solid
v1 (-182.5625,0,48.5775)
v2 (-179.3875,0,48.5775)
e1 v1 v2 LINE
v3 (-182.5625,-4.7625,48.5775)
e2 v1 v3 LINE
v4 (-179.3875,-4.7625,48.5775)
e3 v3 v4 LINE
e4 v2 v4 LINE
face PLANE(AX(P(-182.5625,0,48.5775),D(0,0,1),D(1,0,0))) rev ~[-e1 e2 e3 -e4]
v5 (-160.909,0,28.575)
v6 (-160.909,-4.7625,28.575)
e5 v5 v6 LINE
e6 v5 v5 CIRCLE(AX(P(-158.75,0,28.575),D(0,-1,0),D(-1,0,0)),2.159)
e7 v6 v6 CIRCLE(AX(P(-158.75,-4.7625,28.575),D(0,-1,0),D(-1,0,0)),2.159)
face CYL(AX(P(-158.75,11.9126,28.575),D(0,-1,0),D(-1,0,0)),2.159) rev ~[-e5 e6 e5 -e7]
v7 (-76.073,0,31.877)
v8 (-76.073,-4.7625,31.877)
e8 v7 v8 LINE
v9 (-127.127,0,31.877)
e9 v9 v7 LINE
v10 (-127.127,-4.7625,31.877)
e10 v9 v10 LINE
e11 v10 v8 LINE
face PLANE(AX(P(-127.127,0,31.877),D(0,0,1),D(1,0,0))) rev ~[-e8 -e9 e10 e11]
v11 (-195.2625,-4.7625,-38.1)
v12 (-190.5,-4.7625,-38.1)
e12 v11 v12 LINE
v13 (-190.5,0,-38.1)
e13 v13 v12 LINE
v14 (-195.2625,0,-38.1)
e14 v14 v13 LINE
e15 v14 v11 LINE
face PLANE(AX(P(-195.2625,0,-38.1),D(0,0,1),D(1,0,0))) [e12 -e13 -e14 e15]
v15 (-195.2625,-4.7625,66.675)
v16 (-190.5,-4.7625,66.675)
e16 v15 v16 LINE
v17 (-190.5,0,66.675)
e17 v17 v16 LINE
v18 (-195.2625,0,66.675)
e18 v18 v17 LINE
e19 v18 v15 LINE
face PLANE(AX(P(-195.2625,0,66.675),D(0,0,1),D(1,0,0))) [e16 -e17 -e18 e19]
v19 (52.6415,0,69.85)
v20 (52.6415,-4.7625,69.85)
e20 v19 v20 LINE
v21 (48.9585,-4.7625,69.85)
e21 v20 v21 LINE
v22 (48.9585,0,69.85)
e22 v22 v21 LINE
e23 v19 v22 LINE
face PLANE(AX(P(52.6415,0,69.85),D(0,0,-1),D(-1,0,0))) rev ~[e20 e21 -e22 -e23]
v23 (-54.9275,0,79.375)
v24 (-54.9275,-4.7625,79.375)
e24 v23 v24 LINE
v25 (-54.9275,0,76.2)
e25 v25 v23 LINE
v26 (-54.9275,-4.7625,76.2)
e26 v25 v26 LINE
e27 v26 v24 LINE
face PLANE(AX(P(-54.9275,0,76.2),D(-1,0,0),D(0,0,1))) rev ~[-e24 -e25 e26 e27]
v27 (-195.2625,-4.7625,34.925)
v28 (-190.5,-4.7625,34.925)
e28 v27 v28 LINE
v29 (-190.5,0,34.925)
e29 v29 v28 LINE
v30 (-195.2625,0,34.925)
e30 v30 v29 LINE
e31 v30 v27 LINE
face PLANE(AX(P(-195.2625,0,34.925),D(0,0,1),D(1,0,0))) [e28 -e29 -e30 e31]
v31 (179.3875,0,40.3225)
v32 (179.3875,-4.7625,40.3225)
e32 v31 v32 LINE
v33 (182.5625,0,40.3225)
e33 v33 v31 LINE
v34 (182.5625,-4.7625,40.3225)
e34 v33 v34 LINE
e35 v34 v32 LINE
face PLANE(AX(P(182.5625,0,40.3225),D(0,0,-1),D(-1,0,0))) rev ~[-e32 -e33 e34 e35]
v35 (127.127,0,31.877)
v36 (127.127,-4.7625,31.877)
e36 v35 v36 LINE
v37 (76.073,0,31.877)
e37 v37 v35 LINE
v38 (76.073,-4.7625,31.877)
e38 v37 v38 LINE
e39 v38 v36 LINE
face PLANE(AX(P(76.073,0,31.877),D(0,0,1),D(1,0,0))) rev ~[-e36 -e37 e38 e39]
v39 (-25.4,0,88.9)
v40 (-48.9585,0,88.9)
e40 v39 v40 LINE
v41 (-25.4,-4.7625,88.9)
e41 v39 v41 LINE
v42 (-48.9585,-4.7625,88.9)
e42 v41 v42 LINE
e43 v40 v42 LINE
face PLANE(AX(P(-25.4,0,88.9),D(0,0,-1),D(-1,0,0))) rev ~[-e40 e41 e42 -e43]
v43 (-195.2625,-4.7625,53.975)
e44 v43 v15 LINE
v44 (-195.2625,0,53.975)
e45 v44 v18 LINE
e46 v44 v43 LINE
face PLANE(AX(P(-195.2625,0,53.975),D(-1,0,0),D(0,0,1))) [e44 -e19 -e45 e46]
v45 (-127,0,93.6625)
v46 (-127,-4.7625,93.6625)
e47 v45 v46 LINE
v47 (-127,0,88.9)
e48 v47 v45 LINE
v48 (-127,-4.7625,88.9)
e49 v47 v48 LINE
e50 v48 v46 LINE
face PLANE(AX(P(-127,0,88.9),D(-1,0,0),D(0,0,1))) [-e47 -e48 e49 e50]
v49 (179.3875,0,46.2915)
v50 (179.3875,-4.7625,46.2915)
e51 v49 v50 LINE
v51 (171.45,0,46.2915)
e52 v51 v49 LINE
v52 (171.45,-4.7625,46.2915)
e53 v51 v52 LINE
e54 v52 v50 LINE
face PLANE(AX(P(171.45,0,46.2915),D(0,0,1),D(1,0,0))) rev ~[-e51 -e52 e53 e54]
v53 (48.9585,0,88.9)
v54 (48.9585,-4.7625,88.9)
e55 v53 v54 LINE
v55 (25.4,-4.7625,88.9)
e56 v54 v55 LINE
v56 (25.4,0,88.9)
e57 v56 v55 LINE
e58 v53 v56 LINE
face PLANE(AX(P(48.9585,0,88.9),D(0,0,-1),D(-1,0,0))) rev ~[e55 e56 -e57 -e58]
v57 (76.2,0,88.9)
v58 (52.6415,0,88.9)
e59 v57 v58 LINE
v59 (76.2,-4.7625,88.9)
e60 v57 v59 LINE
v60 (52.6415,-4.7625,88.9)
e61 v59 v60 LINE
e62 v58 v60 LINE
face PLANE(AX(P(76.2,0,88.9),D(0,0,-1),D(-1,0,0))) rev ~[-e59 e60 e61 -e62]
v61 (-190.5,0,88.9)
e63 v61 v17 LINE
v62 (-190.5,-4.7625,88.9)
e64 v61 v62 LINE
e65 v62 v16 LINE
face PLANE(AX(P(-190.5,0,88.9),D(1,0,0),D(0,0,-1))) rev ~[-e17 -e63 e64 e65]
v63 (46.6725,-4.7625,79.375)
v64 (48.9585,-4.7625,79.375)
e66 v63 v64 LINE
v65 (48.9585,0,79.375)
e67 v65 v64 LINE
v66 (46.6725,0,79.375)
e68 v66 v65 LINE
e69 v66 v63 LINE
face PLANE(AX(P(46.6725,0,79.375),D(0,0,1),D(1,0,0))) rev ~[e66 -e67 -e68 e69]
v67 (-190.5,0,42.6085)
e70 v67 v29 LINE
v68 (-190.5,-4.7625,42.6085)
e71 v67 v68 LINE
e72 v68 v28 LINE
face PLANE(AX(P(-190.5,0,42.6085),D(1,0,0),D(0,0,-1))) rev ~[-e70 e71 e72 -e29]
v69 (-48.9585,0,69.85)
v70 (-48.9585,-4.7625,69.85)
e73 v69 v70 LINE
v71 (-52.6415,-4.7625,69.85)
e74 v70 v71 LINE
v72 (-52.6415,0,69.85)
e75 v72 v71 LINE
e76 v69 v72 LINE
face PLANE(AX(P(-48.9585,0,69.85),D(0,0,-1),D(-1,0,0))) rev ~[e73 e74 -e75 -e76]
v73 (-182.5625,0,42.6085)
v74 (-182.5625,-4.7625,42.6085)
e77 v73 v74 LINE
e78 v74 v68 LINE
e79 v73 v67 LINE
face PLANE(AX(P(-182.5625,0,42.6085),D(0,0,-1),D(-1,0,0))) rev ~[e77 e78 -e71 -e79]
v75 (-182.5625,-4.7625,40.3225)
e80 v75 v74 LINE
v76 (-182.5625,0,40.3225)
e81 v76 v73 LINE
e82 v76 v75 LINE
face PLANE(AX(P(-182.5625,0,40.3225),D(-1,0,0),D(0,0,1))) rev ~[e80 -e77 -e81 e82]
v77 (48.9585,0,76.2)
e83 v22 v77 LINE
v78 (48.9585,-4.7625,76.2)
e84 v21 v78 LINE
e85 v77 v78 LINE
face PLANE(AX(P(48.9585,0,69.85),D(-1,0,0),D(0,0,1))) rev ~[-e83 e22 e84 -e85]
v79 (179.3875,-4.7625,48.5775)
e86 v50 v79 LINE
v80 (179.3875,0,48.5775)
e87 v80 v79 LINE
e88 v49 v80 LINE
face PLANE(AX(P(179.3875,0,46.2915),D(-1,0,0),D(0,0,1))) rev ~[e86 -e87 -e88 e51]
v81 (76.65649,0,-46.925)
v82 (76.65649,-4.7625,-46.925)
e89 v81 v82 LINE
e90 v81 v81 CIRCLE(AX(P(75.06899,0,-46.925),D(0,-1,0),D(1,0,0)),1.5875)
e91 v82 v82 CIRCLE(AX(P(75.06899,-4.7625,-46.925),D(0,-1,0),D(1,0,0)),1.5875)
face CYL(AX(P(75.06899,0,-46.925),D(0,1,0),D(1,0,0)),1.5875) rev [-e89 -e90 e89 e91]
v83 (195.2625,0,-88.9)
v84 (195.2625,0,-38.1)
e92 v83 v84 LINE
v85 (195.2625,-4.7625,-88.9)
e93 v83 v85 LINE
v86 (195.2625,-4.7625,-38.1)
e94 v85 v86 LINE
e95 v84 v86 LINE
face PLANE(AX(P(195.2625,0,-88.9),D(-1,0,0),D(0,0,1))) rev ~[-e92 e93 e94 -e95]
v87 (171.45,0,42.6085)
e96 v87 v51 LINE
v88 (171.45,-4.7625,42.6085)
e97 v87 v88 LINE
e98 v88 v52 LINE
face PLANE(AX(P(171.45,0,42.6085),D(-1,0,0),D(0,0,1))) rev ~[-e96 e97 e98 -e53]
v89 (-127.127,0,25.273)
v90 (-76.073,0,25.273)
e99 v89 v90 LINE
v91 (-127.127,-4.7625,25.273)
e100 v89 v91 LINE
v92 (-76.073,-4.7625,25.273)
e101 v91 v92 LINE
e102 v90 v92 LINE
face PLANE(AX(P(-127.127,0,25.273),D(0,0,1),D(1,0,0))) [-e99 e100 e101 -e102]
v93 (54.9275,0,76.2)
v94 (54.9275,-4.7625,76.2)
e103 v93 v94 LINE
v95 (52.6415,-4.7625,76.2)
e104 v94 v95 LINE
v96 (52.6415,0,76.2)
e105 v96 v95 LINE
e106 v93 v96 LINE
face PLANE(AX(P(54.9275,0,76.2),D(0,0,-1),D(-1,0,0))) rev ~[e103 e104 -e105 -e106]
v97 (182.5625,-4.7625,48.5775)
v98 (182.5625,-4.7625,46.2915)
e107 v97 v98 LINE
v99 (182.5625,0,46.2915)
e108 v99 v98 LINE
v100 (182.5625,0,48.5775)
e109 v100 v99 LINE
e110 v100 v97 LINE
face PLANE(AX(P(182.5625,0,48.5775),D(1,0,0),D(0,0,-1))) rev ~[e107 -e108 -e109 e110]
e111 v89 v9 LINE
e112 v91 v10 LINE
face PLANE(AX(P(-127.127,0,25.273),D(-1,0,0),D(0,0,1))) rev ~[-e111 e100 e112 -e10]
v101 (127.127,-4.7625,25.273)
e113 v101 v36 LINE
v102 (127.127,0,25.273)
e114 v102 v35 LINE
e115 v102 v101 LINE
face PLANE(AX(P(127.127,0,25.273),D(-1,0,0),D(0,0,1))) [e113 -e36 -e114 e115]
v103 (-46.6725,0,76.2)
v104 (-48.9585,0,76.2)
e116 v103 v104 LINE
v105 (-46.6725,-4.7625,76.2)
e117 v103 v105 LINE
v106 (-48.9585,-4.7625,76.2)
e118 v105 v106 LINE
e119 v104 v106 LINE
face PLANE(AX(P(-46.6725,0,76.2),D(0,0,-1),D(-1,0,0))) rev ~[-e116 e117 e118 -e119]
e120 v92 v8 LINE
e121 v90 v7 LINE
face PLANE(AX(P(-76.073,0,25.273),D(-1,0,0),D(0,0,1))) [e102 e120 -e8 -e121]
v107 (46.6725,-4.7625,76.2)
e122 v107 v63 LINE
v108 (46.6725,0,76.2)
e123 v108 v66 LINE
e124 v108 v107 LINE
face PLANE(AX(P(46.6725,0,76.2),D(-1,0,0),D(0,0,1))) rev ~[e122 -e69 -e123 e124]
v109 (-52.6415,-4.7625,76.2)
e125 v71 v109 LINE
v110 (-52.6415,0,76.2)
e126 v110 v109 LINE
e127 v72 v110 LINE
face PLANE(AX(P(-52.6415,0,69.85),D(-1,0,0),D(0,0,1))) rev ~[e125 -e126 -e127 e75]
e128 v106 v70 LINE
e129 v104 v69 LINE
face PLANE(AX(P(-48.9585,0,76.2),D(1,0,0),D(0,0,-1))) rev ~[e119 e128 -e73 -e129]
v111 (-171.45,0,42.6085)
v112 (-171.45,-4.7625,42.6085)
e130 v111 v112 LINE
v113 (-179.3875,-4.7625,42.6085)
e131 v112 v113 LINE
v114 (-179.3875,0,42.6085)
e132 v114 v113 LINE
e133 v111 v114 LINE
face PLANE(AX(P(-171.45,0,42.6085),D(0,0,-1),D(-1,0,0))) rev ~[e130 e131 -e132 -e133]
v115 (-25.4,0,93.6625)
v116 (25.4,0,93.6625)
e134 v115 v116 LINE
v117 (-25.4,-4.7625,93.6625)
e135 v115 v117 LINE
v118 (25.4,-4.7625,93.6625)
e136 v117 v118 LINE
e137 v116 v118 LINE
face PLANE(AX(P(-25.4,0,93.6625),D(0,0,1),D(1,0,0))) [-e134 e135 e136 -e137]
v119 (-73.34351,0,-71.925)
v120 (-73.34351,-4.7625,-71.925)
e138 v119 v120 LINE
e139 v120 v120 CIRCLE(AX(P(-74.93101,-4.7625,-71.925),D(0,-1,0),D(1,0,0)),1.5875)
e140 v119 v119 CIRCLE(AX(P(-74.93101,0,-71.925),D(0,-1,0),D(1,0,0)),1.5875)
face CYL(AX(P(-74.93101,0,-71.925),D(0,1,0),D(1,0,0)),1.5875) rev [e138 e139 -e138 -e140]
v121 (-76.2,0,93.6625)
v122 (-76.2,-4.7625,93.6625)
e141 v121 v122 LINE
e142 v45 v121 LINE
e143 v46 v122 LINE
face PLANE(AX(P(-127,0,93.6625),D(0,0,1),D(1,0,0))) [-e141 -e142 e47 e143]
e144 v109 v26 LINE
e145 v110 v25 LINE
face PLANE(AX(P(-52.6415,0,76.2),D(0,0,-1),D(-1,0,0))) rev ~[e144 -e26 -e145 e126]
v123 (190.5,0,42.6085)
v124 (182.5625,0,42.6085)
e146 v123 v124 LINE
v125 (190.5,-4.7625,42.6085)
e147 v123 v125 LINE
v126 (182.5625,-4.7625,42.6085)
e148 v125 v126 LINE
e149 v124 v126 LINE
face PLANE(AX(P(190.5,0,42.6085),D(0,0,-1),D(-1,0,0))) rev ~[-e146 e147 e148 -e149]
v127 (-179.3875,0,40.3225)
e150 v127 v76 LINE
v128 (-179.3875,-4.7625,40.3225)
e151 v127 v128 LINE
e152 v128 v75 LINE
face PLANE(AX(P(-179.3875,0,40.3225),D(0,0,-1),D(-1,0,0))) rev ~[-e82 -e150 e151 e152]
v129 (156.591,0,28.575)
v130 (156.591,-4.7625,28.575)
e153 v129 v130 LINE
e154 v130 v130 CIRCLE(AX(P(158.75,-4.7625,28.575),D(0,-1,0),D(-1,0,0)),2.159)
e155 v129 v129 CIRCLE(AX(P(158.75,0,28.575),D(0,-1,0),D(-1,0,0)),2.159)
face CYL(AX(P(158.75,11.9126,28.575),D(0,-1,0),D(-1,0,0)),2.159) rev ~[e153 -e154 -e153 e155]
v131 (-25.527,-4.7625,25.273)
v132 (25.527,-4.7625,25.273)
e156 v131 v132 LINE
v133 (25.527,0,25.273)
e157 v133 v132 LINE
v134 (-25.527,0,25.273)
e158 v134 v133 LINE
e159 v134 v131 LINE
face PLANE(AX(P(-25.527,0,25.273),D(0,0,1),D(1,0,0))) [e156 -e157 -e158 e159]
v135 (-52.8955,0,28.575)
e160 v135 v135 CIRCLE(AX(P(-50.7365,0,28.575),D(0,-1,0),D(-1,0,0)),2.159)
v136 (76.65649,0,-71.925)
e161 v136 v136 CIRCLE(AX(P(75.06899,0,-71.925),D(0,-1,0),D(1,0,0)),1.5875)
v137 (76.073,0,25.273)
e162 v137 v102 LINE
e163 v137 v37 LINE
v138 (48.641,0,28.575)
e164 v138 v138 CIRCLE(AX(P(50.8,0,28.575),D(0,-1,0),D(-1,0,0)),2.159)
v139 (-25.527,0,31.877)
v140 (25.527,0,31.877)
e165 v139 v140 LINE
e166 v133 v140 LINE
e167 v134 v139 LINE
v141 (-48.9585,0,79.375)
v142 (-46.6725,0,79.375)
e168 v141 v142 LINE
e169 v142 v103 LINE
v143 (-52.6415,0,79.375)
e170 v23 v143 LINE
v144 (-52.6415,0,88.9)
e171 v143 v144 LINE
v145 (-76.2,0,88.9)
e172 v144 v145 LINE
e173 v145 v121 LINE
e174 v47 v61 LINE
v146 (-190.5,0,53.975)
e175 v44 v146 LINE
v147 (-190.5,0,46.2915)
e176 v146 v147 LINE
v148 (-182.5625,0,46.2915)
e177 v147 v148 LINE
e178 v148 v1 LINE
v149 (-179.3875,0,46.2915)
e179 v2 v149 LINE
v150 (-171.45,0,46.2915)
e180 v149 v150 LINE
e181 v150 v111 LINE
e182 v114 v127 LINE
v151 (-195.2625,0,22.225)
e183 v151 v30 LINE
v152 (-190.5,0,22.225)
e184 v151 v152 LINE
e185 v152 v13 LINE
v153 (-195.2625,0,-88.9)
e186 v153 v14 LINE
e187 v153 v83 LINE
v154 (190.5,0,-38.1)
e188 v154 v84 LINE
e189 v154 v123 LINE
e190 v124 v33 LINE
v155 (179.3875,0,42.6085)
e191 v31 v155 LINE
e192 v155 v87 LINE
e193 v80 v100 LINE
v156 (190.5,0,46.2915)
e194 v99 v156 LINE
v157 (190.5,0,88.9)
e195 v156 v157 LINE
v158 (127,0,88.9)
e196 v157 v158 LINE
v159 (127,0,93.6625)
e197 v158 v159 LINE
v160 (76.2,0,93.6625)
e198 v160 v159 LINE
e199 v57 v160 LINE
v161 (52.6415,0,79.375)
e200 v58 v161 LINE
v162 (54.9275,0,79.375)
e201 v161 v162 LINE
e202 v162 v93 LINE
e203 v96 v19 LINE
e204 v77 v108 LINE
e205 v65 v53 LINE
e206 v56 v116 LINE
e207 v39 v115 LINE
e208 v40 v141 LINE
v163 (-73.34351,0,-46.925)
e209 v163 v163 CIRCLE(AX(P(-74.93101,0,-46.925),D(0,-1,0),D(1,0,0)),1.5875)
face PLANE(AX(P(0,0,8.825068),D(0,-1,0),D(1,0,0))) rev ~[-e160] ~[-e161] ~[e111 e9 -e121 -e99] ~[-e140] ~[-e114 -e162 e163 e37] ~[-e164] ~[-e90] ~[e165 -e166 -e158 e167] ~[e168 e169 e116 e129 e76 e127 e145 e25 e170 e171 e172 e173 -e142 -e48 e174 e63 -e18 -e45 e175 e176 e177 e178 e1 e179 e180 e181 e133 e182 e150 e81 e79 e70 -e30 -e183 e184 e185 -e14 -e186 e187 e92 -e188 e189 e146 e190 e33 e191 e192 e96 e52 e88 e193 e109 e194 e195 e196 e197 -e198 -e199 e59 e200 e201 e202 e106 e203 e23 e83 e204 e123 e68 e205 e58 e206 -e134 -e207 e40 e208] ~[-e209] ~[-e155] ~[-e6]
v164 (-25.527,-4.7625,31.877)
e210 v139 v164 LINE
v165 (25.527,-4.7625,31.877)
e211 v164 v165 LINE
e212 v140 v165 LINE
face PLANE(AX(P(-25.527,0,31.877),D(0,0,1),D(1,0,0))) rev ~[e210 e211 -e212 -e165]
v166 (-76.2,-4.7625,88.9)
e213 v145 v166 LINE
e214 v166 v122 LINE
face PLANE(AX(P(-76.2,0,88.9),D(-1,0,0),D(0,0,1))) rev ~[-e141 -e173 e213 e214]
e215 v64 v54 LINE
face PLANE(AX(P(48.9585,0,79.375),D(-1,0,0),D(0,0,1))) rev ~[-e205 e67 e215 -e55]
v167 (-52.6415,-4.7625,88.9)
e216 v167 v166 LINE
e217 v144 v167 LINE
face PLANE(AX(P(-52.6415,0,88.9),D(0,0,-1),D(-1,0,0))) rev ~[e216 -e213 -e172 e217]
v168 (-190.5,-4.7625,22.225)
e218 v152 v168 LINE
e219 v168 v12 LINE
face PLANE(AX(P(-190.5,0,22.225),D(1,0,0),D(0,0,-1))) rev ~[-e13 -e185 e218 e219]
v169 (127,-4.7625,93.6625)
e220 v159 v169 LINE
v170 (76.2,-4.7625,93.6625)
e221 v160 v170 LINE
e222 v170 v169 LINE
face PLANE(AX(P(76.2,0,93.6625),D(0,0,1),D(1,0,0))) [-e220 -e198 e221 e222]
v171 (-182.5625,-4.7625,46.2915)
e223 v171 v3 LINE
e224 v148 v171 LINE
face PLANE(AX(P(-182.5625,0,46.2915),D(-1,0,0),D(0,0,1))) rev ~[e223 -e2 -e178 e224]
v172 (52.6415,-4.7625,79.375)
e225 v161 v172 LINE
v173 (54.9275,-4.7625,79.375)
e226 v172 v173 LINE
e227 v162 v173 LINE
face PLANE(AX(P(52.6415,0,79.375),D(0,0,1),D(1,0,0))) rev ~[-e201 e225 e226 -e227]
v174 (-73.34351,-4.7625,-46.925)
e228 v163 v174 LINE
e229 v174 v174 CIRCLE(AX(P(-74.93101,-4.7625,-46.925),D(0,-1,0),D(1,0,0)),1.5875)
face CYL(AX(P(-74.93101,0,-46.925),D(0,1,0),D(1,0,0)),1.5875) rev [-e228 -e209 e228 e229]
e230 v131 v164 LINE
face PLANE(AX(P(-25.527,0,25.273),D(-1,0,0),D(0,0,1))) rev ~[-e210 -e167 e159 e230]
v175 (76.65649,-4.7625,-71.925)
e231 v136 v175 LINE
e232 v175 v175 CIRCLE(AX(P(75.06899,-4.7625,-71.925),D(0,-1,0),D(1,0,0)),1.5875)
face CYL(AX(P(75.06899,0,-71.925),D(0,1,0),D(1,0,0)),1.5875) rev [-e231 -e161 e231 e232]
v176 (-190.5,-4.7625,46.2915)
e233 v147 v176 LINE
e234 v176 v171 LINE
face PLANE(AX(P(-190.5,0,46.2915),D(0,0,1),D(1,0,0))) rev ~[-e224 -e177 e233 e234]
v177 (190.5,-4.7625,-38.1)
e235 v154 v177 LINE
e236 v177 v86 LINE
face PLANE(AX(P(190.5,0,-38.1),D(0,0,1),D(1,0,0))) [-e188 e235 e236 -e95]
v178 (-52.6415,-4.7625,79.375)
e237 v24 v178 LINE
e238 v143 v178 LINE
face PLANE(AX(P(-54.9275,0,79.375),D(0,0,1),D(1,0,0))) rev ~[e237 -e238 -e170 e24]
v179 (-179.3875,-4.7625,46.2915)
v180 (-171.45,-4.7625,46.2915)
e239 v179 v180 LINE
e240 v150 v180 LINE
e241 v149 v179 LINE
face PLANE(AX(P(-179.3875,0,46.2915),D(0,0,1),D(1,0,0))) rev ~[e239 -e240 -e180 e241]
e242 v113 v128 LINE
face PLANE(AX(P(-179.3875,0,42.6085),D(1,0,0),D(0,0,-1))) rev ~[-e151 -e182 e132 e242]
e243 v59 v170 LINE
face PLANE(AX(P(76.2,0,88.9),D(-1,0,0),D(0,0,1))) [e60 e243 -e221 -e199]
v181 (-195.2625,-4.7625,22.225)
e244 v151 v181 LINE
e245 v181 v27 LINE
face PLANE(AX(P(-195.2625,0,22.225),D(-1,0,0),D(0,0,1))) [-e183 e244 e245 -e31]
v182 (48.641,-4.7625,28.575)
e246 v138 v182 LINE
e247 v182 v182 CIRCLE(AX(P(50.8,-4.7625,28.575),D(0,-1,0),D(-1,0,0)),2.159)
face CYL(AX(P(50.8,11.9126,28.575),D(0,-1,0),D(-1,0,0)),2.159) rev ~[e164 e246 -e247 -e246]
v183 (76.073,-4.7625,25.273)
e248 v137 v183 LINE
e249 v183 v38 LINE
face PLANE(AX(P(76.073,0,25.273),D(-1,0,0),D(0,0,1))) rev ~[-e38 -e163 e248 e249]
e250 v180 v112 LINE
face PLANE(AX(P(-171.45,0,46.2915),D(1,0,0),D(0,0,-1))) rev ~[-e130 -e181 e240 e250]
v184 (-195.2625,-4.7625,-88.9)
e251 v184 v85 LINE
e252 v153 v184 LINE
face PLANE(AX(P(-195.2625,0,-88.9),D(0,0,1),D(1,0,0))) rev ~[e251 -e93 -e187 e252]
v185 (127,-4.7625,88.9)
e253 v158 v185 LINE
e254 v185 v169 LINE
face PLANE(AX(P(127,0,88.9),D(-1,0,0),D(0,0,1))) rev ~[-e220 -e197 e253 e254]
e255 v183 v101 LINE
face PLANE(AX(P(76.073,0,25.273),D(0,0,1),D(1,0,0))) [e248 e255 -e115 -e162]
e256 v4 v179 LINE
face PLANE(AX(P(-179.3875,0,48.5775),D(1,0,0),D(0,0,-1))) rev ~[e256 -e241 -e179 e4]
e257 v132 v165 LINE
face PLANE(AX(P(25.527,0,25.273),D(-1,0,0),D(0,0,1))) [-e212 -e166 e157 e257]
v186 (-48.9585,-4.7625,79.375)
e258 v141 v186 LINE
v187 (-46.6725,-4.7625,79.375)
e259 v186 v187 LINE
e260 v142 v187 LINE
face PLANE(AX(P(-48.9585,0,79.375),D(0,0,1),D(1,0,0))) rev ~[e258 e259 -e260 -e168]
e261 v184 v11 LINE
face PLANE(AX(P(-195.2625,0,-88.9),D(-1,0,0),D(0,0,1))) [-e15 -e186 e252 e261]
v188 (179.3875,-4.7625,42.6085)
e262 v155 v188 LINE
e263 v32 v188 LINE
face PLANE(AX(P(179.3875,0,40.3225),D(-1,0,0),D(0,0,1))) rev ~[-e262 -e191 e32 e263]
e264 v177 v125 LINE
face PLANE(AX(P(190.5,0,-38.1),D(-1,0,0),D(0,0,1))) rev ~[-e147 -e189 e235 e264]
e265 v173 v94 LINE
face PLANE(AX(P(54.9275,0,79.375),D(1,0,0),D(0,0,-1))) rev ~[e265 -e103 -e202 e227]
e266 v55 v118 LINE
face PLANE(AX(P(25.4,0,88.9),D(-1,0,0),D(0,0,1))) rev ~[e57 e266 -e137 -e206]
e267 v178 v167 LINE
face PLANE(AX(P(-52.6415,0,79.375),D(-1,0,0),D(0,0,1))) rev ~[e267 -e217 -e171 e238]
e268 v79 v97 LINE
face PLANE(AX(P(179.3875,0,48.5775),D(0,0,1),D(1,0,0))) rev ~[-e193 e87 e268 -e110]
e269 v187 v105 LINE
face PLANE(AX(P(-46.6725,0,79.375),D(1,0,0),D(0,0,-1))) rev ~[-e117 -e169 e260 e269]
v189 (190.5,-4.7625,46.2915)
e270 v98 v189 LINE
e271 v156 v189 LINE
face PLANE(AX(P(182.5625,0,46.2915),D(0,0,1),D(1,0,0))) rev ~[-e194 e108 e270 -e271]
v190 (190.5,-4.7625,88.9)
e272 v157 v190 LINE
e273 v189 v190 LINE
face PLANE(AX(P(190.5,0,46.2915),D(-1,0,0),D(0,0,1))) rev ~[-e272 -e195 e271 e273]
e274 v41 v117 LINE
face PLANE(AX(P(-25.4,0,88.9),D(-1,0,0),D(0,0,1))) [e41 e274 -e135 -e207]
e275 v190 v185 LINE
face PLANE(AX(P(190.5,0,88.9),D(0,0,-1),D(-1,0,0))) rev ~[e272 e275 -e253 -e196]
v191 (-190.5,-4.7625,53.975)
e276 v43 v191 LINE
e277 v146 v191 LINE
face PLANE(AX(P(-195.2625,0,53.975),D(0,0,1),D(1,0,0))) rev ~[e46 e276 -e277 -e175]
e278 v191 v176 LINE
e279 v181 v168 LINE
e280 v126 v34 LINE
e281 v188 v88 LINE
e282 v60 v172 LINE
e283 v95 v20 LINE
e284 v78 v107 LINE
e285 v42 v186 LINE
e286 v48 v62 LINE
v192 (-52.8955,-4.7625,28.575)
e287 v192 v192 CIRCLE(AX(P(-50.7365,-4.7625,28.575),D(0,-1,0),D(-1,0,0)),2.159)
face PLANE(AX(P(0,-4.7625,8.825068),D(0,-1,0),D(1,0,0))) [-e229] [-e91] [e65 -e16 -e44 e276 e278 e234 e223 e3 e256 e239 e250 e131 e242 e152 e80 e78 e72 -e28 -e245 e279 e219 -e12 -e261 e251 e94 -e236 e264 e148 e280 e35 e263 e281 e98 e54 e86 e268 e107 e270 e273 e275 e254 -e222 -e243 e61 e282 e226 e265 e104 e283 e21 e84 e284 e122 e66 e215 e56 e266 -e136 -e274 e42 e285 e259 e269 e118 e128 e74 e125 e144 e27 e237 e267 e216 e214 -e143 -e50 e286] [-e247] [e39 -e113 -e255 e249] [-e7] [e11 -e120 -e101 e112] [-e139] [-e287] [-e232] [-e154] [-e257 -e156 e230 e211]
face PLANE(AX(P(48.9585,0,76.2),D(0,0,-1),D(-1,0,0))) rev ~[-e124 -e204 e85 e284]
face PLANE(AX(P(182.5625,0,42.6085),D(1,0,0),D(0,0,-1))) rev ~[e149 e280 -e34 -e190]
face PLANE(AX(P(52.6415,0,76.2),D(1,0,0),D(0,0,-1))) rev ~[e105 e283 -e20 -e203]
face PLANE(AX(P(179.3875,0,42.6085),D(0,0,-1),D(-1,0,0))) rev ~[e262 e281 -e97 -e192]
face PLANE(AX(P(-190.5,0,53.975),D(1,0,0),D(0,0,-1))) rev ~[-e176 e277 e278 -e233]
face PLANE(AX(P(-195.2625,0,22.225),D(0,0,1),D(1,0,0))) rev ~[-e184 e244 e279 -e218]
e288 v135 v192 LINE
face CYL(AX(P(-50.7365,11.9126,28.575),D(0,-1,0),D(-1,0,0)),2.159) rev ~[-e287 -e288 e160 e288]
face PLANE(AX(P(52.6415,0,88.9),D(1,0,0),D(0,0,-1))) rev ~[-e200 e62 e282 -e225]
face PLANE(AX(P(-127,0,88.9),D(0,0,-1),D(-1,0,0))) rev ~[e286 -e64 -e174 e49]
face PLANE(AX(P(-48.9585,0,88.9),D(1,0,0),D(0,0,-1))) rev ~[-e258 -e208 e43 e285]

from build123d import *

# Parameters (mm, degrees)
F0_R     = 1.5875
F0_W     = 51.054
F0_H     = 6.604
F0_W_2   = 4.7625
F0_H_2   = 50.8
F0_W_3   = 50.8
F0_H_3   = 4.7625
F0_H_4   = 12.7
F1_DEPTH = 4.7625
F2_D     = 4.318
F2_DEPTH = 11.9126
F2_TIP   = 1.2972580765


with BuildPart() as f1:
    # F0 (on Front) → F1 (new body)
    with BuildSketch(Plane.XZ):
        Polygon((-127, 88.9), (-190.5, 88.9), (-190.5, 66.675), (-190.5, 53.975), (-190.5, 46.2915), (-182.5625, 46.2915), (-182.5625, 48.5775), (-179.3875, 48.5775), (-179.3875, 46.2915), (-171.45, 46.2915), (-171.45, 42.6085), (-179.3875, 42.6085), (-179.3875, 40.3225), (-182.5625, 40.3225), (-182.5625, 42.6085), (-190.5, 42.6085), (-190.5, 34.925), (-190.5, 22.225), (-190.5, -38.1), (-190.5, -88.9), (190.5, -88.9), (190.5, -38.1), (190.5, 22.225), (190.5, 34.925), (190.5, 42.6085), (182.5625, 42.6085), (182.5625, 40.3225), (179.3875, 40.3225), (179.3875, 42.6085), (171.45, 42.6085), (171.45, 46.2915), (179.3875, 46.2915), (179.3875, 48.5775), (182.5625, 48.5775), (182.5625, 46.2915), (190.5, 46.2915), (190.5, 53.975), (190.5, 66.675), (190.5, 88.9), (127, 88.9), (76.2, 88.9), (52.6415, 88.9), (52.6415, 79.375), (54.9275, 79.375), (54.9275, 76.2), (52.6415, 76.2), (52.6415, 69.85), (48.9585, 69.85), (48.9585, 76.2), (46.6725, 76.2), (46.6725, 79.375), (48.9585, 79.375), (48.9585, 88.9), (25.4, 88.9), (-25.4, 88.9), (-48.9585, 88.9), (-48.9585, 79.375), (-46.6725, 79.375), (-46.6725, 76.2), (-48.9585, 76.2), (-48.9585, 69.85), (-52.6415, 69.85), (-52.6415, 76.2), (-54.9275, 76.2), (-54.9275, 79.375), (-52.6415, 79.375), (-52.6415, 88.9), (-76.2, 88.9), align=None)
        with Locations((-74.9310097456, -71.9249998569)):
            Circle(F0_R, mode=Mode.SUBTRACT)
        with Locations((-74.9310097456, -46.9249998569)):
            Circle(F0_R, mode=Mode.SUBTRACT)
        with Locations((75.0689902544, -71.9249998569)):
            Circle(F0_R, mode=Mode.SUBTRACT)
        with Locations((75.0689902544, -46.9249998569)):
            Circle(F0_R, mode=Mode.SUBTRACT)
        with Locations((-101.6, 28.575)):
            Rectangle(F0_W, F0_H, mode=Mode.SUBTRACT)
        with Locations((0, 28.575)):
            Rectangle(F0_W, F0_H, mode=Mode.SUBTRACT)
        with Locations((101.6, 28.575)):
            Rectangle(F0_W, F0_H, mode=Mode.SUBTRACT)
        with Locations((192.88125, -63.5)):
            Rectangle(F0_W_2, F0_H_2)
        with Locations((-192.88125, -63.5)):
            Rectangle(F0_W_2, F0_H_2)
        with Locations((-101.6, 91.28125)):
            Rectangle(F0_W_3, F0_H_3)
        with Locations((0, 91.28125)):
            Rectangle(F0_W_3, F0_H_3)
        with Locations((101.6, 91.28125)):
            Rectangle(F0_W_3, F0_H_3)
        with Locations((-192.88125, 60.325)):
            Rectangle(F0_W_2, F0_H_4)
        with Locations((-192.88125, 28.575)):
            Rectangle(F0_W_2, F0_H_4)
    extrude(amount=F1_DEPTH)

    # F2
    with Locations(Plane(origin=(0, 0, 0), x_dir=(1, 0, 0), z_dir=(0, 1, 0))):
        with Locations((-158.75, -28.575), (-50.7365, -28.575), (50.8, -28.575), (158.75, -28.575)):
            Hole(F2_D / 2, depth=F2_DEPTH)
            with Locations((0, 0, -(F2_DEPTH + F2_TIP / 2))):  # 118° drill point
                Cone(0, F2_D / 2, F2_TIP, mode=Mode.SUBTRACT)


solid = f1.part
